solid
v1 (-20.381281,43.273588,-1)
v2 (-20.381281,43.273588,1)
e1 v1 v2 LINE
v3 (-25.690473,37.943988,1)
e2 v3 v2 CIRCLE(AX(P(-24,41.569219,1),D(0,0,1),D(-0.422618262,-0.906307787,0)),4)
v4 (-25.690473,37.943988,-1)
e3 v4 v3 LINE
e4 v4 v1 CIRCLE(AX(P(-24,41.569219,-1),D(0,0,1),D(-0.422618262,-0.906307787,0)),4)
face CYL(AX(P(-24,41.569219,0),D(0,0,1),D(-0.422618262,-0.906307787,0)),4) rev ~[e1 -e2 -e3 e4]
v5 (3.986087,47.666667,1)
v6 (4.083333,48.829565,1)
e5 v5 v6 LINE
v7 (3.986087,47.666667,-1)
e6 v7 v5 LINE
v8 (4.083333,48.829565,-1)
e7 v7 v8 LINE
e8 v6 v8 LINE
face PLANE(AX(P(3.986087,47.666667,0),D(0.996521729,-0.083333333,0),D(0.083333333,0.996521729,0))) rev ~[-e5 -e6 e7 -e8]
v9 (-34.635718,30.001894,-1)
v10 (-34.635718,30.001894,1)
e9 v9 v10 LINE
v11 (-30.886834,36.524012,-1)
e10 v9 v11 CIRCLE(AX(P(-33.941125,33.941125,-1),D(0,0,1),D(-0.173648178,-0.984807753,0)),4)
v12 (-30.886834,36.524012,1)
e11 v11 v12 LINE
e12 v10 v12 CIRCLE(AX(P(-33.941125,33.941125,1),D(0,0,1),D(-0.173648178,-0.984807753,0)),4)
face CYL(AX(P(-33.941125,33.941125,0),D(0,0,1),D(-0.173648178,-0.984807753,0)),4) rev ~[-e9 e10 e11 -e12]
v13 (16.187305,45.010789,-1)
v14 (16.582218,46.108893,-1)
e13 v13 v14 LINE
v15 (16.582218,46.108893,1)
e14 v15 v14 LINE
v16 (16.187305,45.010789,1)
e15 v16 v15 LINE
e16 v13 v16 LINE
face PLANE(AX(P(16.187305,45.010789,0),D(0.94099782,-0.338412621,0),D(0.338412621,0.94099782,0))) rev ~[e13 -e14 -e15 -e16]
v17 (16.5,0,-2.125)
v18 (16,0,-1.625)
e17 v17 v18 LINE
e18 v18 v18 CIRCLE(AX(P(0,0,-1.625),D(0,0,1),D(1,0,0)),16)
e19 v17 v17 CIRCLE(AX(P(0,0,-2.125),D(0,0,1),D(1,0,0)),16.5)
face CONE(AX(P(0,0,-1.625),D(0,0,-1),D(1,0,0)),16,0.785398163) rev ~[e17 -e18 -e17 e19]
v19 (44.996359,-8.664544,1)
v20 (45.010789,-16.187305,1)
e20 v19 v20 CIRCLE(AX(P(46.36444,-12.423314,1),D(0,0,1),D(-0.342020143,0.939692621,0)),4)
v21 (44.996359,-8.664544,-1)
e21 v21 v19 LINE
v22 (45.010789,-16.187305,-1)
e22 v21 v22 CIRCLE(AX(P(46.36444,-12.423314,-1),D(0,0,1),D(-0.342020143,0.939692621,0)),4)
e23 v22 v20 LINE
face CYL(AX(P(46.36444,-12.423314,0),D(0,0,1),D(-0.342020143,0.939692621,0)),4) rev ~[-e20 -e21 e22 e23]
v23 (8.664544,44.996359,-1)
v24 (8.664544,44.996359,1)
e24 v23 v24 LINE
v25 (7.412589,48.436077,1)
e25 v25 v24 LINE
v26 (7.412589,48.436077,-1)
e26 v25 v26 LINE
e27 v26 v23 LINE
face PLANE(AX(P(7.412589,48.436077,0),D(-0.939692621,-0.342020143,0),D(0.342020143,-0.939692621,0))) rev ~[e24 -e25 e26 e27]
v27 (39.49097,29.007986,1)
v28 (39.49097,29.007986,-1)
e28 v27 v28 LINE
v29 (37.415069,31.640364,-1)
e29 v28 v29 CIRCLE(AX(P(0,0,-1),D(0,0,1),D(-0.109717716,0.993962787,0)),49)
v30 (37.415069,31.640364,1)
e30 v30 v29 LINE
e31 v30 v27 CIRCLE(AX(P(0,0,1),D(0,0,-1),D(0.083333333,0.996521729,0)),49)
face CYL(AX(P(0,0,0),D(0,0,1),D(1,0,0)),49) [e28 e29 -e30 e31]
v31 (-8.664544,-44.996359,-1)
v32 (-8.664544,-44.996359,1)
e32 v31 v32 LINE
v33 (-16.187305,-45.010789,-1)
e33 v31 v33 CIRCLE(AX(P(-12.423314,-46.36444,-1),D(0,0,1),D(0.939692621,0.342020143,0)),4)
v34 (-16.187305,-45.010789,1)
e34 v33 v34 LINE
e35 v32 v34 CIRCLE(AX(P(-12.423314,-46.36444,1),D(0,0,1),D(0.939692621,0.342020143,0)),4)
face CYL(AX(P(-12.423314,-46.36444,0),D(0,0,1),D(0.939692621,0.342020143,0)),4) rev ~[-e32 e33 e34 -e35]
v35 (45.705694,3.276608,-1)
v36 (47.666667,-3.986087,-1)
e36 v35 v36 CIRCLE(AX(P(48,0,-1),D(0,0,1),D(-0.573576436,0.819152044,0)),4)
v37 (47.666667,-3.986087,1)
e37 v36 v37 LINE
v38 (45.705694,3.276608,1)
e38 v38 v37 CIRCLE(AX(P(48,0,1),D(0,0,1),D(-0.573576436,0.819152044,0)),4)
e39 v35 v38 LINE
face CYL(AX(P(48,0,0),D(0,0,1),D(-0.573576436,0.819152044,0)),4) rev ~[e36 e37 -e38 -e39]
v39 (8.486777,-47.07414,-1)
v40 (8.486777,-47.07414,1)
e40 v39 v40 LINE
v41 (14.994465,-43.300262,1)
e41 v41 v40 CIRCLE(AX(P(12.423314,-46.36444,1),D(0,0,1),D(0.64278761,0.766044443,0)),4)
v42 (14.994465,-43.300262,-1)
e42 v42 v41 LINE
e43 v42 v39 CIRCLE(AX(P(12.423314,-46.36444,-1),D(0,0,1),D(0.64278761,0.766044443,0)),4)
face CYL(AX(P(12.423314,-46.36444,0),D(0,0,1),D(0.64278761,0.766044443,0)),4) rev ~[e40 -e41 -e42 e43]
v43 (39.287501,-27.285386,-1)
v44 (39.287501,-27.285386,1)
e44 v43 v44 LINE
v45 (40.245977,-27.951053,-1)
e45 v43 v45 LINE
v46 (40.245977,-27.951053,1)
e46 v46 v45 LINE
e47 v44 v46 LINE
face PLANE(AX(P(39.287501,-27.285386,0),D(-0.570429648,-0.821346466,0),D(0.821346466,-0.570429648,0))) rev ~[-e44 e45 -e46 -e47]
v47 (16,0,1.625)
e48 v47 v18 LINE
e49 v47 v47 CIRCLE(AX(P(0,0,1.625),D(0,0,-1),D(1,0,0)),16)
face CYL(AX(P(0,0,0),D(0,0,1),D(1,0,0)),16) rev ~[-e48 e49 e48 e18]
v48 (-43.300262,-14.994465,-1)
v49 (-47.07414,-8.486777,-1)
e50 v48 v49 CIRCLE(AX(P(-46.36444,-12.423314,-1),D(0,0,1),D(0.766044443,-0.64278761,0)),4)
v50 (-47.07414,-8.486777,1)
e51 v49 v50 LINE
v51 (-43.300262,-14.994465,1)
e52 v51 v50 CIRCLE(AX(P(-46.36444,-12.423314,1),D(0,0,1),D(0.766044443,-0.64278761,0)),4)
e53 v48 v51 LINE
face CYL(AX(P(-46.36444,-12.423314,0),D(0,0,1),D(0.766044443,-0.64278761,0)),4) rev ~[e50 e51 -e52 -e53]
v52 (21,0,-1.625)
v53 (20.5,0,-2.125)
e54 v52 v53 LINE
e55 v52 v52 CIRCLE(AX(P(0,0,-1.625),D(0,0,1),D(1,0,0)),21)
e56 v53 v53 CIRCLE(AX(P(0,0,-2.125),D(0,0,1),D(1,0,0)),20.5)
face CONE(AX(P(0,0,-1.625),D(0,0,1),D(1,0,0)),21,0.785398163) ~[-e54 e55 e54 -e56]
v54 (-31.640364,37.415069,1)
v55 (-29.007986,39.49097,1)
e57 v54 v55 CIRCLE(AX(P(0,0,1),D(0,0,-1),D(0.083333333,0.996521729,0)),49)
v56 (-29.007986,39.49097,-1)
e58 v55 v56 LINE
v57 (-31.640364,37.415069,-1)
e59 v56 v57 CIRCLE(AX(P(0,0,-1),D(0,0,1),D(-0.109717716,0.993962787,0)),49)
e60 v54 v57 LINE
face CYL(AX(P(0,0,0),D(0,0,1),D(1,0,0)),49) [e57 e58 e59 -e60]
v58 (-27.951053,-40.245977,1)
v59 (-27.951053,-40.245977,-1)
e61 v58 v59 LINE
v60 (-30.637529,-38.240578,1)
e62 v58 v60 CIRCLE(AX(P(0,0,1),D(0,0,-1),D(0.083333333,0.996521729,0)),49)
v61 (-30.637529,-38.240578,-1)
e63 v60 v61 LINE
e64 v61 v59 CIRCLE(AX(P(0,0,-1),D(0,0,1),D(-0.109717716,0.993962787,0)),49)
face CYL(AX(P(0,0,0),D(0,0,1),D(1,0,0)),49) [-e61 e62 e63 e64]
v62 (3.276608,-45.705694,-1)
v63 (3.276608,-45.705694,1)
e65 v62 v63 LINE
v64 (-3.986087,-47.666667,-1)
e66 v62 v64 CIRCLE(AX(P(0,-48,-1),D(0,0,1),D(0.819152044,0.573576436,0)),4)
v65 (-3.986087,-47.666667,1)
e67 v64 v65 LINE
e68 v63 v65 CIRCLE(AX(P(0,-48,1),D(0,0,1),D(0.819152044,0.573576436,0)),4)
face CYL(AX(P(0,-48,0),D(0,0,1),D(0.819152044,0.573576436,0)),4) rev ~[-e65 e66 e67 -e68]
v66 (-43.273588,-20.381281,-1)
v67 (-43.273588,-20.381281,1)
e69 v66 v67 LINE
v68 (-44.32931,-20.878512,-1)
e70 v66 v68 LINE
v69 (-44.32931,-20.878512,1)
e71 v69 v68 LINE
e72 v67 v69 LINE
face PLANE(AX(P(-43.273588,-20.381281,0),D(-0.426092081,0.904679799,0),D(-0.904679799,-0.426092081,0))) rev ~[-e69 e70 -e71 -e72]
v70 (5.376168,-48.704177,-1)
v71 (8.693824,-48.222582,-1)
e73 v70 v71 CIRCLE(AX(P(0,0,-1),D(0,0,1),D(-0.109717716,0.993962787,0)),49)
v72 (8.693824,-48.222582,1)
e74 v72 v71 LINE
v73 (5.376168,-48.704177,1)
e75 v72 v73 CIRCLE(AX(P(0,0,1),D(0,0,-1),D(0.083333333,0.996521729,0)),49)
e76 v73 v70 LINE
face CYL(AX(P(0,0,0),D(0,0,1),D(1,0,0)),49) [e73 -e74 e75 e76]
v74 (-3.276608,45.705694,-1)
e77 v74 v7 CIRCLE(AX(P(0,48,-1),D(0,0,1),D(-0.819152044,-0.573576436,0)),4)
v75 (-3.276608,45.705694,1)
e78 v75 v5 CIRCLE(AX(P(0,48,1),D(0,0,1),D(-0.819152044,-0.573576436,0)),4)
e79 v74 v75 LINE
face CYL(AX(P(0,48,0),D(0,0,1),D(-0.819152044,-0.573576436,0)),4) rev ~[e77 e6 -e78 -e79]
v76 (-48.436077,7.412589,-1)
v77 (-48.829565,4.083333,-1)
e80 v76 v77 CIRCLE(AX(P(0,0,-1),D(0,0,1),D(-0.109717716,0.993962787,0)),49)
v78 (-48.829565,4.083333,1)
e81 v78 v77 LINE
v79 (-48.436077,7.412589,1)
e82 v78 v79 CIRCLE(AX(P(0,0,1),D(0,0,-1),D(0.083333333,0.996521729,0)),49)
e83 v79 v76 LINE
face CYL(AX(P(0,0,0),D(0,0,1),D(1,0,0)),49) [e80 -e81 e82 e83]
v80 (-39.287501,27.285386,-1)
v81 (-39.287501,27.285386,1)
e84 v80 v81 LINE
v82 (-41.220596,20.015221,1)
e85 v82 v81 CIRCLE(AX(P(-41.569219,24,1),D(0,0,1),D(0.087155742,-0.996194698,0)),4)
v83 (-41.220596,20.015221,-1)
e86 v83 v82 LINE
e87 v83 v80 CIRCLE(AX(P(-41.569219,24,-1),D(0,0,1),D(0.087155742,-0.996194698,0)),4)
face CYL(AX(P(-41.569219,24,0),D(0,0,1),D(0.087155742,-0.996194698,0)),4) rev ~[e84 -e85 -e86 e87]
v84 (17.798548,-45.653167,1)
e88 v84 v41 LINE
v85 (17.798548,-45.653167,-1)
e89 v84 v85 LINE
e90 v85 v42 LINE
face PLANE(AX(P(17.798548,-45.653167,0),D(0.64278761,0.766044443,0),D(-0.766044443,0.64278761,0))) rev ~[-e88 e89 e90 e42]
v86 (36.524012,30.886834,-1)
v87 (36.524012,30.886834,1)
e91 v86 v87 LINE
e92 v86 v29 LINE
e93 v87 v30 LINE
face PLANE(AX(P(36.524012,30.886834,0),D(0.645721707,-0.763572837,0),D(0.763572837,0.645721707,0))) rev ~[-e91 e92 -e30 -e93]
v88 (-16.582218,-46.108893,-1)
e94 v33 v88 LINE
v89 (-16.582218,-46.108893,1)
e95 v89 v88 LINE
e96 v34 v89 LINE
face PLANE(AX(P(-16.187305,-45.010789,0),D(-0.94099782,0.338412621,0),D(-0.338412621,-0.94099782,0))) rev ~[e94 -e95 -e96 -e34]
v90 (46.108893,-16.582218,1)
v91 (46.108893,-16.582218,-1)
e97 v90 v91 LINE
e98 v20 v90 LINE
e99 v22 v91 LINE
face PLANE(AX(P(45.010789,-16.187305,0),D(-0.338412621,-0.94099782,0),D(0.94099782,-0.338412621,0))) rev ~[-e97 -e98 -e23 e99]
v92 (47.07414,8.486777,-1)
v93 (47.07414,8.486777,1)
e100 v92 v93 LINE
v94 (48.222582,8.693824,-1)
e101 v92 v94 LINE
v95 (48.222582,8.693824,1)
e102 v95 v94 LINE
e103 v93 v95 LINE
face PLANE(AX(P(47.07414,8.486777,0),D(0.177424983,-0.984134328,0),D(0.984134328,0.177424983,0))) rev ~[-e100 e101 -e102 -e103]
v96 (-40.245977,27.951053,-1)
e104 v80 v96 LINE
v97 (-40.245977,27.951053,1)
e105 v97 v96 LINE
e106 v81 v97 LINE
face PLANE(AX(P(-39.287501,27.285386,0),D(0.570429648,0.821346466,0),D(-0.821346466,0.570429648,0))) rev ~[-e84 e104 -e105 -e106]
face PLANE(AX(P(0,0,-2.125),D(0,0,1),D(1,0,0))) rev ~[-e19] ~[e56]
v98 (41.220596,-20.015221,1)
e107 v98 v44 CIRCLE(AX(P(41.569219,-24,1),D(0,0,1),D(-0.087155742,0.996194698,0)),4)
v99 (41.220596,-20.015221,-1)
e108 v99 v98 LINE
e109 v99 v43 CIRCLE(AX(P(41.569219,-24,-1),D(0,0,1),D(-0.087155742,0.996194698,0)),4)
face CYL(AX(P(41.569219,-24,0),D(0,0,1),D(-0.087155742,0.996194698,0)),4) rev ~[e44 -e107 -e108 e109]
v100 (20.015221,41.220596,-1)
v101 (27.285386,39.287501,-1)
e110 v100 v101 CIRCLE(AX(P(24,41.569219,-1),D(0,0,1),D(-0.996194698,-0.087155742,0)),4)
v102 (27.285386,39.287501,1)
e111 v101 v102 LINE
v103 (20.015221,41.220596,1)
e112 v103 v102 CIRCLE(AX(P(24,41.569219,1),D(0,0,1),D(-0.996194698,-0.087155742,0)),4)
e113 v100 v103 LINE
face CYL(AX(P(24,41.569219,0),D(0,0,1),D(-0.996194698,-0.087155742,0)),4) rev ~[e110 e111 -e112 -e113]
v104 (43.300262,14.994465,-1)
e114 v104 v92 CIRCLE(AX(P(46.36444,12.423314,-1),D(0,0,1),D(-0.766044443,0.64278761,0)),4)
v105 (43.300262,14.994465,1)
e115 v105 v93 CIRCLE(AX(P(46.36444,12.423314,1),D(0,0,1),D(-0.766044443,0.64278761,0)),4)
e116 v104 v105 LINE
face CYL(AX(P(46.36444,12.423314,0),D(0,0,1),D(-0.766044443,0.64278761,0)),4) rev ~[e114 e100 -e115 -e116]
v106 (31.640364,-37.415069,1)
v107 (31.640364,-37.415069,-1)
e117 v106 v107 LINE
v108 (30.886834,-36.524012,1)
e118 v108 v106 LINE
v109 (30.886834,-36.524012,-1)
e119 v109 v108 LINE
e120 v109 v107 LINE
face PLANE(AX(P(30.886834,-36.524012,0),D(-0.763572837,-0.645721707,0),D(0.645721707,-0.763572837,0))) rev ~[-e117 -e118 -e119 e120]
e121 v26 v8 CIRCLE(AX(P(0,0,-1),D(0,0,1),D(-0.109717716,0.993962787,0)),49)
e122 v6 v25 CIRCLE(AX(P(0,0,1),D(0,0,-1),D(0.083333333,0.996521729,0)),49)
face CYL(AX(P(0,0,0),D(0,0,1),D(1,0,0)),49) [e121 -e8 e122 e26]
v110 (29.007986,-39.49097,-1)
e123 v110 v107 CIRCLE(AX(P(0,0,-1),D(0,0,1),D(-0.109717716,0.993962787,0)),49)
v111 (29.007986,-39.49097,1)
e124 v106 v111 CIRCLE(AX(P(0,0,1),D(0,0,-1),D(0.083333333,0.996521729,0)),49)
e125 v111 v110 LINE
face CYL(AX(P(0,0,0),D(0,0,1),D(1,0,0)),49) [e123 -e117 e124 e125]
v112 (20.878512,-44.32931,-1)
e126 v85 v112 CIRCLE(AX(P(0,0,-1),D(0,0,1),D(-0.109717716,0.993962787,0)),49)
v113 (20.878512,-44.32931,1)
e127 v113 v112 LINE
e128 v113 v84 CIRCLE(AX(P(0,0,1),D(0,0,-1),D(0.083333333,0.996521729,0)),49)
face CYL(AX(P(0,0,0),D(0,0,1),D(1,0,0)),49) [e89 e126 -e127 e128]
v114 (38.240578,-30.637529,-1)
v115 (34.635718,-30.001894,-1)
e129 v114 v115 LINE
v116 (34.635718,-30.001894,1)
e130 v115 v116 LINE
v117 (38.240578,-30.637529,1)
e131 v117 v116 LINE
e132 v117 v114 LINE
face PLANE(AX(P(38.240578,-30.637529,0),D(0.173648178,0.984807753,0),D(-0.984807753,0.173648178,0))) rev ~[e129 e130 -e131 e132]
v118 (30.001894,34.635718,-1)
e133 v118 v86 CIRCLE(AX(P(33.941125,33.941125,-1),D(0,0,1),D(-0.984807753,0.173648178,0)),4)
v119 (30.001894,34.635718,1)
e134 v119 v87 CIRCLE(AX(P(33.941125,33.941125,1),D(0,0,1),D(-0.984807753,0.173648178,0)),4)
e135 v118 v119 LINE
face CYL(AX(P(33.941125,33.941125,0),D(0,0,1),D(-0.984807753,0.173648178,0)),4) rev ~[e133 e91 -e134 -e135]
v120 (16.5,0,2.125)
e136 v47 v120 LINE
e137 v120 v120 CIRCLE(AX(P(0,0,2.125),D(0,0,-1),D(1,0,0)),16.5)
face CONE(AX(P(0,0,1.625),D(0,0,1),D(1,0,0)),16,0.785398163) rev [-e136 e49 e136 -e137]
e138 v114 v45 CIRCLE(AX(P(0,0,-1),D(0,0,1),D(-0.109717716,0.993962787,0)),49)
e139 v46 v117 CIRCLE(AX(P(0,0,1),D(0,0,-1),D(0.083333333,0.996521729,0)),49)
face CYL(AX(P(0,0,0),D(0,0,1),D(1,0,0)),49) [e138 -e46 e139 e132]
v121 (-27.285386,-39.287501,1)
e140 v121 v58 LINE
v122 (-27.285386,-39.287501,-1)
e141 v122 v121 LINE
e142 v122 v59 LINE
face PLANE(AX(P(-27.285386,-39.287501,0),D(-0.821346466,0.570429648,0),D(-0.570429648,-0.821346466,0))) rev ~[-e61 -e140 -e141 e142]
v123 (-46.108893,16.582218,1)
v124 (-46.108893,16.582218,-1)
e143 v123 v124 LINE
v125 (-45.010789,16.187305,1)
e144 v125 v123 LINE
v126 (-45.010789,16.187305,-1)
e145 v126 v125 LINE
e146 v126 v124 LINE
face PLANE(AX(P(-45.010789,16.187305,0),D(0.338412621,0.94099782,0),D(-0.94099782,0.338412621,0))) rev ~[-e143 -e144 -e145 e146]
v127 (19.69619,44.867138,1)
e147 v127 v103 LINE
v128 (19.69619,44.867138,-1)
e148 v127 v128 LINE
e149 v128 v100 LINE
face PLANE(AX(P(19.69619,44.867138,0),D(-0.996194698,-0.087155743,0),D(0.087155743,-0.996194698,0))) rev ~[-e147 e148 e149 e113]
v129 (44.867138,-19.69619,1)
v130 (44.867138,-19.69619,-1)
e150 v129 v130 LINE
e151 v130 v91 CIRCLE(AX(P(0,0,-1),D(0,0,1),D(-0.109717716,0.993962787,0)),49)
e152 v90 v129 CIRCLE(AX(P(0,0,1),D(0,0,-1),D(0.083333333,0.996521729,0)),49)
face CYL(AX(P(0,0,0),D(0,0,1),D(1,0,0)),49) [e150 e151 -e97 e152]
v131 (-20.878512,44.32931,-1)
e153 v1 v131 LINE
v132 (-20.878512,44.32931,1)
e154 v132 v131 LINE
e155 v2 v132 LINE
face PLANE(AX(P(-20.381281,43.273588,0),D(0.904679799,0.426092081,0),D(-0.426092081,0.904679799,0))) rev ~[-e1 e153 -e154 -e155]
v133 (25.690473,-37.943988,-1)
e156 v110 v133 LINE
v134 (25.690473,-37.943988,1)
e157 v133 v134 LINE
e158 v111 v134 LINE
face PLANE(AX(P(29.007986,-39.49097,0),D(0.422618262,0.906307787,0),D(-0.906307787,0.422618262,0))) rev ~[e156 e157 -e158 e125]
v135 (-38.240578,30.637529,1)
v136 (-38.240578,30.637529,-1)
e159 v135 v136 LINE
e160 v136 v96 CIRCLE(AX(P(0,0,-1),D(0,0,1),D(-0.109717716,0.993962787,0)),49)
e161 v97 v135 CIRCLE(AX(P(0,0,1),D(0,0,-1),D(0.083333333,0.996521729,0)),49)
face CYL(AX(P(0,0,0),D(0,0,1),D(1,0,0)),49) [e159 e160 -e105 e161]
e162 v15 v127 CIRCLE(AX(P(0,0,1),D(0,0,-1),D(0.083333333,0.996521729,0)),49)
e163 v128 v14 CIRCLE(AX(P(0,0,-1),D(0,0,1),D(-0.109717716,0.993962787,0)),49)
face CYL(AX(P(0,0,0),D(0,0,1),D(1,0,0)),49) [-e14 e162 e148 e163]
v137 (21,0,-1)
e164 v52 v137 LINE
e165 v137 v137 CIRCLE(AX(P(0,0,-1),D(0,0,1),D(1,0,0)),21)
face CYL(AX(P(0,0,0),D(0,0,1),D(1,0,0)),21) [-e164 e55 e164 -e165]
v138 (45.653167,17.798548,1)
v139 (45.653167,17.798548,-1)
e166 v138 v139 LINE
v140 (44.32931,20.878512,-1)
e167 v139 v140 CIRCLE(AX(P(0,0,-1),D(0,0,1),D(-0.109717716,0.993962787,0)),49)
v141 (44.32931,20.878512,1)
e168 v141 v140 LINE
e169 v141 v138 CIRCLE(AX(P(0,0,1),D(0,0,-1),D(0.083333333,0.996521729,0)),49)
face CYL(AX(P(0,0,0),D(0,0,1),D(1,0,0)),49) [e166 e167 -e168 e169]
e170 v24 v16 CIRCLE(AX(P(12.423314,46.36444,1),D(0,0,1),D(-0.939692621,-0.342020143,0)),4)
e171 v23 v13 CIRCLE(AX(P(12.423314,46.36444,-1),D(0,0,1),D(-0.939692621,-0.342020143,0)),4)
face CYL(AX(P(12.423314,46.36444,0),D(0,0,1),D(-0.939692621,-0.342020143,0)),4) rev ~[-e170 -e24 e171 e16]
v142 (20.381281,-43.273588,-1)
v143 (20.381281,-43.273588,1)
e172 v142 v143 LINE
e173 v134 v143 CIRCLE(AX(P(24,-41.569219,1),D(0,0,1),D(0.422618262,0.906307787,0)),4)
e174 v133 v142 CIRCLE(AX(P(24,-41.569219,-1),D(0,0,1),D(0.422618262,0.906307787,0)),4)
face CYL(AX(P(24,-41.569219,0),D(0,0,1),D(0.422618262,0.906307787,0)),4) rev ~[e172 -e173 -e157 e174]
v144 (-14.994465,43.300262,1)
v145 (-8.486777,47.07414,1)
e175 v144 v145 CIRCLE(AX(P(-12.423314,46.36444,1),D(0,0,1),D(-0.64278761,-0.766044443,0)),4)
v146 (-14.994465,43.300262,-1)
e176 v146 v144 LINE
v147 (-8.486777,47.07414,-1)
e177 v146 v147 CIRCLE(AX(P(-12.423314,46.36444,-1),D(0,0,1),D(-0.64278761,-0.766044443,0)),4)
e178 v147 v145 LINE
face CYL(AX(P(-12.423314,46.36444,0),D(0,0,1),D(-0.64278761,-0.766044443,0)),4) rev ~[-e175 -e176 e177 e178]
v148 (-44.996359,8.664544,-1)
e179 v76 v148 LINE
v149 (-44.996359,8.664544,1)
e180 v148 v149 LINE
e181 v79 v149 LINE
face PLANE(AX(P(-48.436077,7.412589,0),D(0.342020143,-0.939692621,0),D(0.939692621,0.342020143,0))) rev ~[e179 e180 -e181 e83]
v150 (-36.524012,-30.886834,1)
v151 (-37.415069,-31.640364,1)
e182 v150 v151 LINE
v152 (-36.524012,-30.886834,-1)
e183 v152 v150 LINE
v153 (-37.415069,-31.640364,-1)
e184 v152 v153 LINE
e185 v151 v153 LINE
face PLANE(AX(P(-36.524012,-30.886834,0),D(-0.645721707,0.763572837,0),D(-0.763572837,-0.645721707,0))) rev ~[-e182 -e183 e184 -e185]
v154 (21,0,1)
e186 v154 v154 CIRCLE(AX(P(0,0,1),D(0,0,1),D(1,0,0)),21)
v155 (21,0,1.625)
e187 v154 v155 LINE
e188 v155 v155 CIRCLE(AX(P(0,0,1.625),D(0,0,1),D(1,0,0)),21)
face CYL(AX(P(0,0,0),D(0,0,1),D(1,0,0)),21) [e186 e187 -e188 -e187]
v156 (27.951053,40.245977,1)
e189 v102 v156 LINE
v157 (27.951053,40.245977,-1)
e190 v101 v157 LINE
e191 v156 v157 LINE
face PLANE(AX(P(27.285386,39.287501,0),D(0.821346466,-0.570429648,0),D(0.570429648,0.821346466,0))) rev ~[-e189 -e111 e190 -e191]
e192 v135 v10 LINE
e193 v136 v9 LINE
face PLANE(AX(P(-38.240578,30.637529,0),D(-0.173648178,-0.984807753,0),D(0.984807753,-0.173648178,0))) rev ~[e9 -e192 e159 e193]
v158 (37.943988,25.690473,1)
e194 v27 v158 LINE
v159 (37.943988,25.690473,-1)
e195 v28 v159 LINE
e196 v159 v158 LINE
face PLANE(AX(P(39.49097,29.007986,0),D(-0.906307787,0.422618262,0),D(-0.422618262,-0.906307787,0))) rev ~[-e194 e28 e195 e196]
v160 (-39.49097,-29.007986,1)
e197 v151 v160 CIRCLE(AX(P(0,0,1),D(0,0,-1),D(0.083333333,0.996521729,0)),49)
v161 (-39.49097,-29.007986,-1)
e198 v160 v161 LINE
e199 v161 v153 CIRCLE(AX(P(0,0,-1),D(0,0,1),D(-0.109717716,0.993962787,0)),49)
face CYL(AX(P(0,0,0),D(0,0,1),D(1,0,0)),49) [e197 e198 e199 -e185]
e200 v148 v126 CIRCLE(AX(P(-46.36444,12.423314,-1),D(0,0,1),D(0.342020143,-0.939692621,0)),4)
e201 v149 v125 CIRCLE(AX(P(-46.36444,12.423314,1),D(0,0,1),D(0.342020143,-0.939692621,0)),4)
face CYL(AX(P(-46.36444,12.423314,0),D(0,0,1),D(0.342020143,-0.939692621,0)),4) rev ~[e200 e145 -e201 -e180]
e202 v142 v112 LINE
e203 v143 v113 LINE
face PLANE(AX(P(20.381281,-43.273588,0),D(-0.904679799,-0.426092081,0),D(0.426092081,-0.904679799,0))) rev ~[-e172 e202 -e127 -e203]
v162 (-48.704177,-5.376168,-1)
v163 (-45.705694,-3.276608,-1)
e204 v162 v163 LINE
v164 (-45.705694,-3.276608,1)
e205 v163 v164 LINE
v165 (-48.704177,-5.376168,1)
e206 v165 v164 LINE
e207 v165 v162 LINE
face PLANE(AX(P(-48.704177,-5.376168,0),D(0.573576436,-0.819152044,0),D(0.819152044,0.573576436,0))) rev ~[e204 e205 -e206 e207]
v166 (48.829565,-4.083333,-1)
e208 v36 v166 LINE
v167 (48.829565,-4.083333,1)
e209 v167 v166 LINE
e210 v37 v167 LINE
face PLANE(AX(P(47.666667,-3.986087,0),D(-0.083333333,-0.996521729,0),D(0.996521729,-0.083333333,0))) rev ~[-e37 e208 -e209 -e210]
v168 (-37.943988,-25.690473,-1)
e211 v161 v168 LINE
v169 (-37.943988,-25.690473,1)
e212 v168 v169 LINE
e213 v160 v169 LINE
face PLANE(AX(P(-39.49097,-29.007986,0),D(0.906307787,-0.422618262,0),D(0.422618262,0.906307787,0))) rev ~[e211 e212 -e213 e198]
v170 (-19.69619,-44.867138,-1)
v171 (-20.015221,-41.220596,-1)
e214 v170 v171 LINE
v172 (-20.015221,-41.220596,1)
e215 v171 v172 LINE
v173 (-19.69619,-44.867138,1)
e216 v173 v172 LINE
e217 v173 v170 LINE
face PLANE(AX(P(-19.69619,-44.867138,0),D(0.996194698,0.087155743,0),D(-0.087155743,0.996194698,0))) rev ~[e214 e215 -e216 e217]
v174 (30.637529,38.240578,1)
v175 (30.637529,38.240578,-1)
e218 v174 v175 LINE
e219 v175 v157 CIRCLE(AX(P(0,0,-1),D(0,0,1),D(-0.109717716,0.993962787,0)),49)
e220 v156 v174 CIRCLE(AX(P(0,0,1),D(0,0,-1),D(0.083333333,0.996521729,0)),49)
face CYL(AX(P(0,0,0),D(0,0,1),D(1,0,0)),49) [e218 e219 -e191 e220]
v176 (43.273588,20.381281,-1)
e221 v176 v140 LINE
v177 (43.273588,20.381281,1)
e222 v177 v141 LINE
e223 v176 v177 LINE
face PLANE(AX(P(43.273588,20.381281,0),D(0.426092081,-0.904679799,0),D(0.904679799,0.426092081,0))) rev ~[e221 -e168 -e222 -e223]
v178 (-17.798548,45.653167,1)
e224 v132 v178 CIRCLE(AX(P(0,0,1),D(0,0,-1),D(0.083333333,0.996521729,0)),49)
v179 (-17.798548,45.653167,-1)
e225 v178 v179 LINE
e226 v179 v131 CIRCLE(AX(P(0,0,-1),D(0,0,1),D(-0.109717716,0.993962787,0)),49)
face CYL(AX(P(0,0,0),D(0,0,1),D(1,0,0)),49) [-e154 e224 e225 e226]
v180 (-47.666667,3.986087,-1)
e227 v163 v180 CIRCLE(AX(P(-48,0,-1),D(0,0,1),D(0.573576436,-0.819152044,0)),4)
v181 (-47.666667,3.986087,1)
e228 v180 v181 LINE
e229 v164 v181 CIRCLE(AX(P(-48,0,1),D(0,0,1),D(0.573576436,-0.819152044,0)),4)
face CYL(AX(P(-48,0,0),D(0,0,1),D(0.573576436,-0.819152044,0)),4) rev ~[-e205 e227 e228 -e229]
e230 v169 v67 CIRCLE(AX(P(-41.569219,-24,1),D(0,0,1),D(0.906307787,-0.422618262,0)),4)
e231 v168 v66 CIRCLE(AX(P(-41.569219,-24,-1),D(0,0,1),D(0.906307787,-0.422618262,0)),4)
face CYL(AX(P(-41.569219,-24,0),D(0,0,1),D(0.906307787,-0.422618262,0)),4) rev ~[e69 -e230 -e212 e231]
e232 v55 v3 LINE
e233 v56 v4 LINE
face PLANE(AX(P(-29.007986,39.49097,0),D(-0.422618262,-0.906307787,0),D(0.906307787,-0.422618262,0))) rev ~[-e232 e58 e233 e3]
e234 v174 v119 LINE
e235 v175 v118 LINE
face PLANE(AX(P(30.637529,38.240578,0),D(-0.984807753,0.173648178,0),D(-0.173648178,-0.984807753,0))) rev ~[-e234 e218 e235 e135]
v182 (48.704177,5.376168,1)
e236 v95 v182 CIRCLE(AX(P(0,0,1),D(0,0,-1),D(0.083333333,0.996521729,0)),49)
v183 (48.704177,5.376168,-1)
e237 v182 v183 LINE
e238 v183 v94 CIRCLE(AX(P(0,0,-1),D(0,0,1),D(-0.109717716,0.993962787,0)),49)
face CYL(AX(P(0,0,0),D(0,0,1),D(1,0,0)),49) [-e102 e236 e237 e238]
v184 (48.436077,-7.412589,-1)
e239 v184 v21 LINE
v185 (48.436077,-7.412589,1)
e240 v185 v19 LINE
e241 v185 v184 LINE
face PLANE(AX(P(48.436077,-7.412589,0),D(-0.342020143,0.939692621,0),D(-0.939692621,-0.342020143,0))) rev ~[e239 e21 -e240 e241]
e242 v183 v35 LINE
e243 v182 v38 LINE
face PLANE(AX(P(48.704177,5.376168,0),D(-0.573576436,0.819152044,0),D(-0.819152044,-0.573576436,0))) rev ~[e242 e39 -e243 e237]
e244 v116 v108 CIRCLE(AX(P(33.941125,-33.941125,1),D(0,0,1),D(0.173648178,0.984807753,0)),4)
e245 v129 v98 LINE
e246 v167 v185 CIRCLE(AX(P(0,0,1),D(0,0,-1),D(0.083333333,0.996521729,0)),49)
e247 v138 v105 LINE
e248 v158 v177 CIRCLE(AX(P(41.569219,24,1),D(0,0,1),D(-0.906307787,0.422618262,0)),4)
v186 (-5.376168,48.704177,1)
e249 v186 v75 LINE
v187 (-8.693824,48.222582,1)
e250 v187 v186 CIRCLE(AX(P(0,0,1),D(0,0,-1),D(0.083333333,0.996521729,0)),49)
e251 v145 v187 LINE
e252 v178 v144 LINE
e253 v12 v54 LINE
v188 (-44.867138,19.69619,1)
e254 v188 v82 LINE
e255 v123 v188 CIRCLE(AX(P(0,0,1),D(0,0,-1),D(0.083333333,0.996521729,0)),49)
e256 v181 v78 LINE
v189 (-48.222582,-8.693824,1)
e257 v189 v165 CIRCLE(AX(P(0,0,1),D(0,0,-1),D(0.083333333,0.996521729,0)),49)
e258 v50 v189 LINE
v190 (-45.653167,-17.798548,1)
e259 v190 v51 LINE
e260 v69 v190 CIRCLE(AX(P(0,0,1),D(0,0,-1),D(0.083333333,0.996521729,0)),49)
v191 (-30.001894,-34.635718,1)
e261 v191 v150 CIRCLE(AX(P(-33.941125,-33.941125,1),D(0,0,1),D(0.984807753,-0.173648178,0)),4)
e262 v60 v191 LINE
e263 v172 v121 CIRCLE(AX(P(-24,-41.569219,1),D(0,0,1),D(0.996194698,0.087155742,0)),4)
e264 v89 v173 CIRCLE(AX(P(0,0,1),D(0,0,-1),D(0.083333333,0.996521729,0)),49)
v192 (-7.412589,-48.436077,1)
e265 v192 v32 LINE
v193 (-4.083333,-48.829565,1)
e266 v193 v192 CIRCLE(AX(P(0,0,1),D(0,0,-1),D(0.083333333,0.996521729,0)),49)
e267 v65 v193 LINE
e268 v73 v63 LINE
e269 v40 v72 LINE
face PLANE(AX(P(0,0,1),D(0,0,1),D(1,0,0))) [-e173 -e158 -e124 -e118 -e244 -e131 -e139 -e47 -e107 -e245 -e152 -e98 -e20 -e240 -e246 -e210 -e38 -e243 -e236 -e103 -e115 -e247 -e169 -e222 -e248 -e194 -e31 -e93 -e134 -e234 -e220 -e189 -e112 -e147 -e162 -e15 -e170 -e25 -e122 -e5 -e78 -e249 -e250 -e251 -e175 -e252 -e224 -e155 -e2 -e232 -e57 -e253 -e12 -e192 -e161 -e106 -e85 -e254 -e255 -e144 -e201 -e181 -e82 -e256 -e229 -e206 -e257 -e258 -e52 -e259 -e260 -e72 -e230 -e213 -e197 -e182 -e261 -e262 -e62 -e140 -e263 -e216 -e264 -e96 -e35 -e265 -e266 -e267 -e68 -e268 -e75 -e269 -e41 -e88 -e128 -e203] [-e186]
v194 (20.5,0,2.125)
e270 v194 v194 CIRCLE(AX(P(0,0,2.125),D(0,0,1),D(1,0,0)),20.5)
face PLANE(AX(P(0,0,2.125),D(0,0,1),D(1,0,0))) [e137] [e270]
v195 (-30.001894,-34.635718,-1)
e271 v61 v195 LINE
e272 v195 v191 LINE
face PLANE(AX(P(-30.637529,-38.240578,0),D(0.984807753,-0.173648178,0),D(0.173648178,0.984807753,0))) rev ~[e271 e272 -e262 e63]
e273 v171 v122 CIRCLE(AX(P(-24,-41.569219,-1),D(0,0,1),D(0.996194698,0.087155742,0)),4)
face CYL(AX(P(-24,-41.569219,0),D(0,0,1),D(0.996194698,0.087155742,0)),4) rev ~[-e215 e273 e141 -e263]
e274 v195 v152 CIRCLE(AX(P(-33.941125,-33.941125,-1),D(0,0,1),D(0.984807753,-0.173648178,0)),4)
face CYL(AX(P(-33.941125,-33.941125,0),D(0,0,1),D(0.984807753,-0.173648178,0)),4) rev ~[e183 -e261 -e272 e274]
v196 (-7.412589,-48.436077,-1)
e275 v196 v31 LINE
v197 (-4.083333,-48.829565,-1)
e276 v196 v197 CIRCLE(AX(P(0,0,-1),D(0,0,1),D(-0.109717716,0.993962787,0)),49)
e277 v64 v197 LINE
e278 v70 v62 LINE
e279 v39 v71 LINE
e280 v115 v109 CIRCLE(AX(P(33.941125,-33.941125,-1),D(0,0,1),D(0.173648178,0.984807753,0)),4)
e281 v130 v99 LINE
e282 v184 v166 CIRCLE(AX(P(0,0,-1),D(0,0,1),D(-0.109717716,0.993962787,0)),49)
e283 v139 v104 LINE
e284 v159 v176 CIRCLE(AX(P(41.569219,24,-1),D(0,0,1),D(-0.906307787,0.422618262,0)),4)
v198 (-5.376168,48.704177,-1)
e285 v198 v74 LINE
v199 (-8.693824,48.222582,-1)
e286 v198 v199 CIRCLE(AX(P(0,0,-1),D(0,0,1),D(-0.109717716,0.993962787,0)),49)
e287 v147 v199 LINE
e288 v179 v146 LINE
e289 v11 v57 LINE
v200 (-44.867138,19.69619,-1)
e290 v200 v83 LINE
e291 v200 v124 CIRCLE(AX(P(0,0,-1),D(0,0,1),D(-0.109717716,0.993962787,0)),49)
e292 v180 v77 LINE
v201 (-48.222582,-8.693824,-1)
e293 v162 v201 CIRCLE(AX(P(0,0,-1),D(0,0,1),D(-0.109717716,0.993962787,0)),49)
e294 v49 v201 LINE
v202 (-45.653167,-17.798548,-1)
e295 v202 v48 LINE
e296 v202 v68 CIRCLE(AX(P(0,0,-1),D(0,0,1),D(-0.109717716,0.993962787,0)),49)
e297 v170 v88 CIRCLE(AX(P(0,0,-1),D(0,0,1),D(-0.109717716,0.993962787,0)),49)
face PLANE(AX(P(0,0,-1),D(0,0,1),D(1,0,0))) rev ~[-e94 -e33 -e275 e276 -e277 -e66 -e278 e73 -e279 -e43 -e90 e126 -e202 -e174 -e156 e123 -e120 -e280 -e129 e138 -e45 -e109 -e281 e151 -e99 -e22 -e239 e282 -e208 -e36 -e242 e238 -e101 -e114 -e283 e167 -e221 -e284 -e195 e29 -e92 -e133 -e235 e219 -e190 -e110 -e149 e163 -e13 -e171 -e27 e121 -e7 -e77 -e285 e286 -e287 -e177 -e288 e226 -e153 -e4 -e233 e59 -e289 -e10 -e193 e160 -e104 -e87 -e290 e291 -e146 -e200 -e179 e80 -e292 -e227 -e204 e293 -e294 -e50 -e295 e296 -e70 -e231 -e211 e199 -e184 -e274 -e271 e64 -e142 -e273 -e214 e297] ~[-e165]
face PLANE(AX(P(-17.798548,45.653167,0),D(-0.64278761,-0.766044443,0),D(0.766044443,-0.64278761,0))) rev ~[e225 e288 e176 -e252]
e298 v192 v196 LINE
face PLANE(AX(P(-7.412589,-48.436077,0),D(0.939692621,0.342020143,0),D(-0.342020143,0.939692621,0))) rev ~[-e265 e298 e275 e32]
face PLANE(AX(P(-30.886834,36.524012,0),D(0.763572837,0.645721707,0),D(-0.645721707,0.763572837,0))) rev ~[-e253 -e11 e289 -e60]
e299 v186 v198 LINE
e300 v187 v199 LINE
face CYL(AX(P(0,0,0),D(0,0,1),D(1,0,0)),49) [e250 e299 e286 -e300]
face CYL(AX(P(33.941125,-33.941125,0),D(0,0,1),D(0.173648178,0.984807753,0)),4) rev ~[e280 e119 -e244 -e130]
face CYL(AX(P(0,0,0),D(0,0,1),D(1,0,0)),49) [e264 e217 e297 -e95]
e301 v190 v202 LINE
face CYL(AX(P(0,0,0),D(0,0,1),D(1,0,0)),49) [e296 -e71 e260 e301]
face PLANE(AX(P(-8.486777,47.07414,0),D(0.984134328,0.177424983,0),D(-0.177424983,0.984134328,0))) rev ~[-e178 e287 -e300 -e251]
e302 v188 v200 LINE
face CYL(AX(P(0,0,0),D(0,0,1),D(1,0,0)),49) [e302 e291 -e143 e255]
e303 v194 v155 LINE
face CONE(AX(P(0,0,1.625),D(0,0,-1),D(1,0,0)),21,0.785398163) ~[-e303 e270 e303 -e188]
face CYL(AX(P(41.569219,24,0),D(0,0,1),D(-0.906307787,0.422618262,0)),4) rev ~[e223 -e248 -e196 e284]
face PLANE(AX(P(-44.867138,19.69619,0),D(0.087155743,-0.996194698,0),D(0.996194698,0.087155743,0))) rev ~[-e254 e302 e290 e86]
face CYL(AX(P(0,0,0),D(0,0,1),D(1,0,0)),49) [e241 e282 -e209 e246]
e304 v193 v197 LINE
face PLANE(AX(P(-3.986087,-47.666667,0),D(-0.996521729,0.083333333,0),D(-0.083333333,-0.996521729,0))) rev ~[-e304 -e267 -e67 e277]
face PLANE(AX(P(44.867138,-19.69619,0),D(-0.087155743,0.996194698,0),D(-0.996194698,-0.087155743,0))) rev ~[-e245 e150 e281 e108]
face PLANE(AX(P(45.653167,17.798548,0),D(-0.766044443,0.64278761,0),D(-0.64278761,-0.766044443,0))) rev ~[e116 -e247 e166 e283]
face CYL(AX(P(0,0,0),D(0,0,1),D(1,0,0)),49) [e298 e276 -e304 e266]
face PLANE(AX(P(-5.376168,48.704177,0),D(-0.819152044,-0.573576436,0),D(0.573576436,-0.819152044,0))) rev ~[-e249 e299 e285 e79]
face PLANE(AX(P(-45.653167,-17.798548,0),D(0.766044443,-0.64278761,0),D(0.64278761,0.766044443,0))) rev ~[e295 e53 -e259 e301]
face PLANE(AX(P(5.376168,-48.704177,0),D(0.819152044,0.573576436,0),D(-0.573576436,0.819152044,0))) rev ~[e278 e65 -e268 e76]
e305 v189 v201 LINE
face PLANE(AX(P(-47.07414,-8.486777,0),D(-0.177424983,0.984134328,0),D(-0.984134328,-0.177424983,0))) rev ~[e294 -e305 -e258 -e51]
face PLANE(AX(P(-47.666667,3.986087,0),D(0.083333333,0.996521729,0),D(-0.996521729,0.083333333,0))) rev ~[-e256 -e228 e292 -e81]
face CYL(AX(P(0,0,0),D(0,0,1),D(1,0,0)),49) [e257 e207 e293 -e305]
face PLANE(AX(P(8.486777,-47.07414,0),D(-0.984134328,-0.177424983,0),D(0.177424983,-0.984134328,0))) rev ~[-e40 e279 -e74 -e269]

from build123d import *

# Parameters (mm, degrees)
ESQUISSE1_R                  = 49
EXTRUSION1_DEPTH             = 1
ENL_V_MAT_EXTRU_1_DEPTH      = 2
R_P_TITION_CIRCULAIRE1_COUNT = 24
ESQUISSE3_R                  = 21
EXTRUSION2_DEPTH             = 2.125
ESQUISSE4_R                  = 16
ENL_V_MAT_EXTRU_2_DEPTH      = 3.125
ENL_V_MAT_EXTRU_2_DEPTH_BACK = 3.125
CHANFREIN1_SIZE              = 0.5


with BuildPart() as part:
    # Esquisse1 → Extrusion1 (new body, symmetric)
    with BuildSketch(Plane.XY):
        Circle(ESQUISSE1_R)
    extrude(amount=EXTRUSION1_DEPTH, both=True)

    # Esquisse2 → Enlèv. mat.-Extru.1 (cut, symmetric)
    with BuildSketch(Plane.XY):
        with BuildLine():
            Line((-5.376168106, 48.704176582), (-3.276608177, 45.705694255))
            ThreePointArc((-3.276608177, 45.705694255), (1.042685581, 44.138289656), (3.986086914, 47.666666667))
            Line((3.986086914, 47.666666667), (4.083333333, 48.829564701))
            ThreePointArc((4.083333333, 48.829564701), (-0.649450523, 48.995695872), (-5.376168106, 48.704176582))
        make_face()
    enl_v_mat_extru_1 = extrude(amount=ENL_V_MAT_EXTRU_1_DEPTH, both=True, mode=Mode.SUBTRACT)

    # Répétition circulaire1: Enlèv. mat.-Extru.1 ×24 about axis
    r_p_tition_circulaire1_axis = Axis((0, 0, 0), (0, 0, 1))
    for i in range(1, R_P_TITION_CIRCULAIRE1_COUNT):
        add(enl_v_mat_extru_1.rotate(r_p_tition_circulaire1_axis, i * 360 / R_P_TITION_CIRCULAIRE1_COUNT), mode=Mode.SUBTRACT)

    # Esquisse3 → Extrusion2 (add, symmetric)
    with BuildSketch(Plane.XY):
        Circle(ESQUISSE3_R)
    extrude(amount=EXTRUSION2_DEPTH, both=True)

    # Esquisse4 → Enlèv. mat.-Extru.2 (cut, two sides)
    with BuildSketch(Plane.XY) as enl_v_mat_extru_2_sk:
        Circle(ESQUISSE4_R)
    extrude(amount=ENL_V_MAT_EXTRU_2_DEPTH, mode=Mode.SUBTRACT)
    extrude(enl_v_mat_extru_2_sk.sketch, amount=-ENL_V_MAT_EXTRU_2_DEPTH_BACK, mode=Mode.SUBTRACT)

    # Chanfrein1
    chanfrein1_edges = [part.edges().sort_by_distance(p)[0] for p in [
        (-21, 0, -2.125),
        (-21, 0, 2.125),
        (-16, 0, -2.125),
        (-16, 0, 2.125),
    ]]
    chamfer(chanfrein1_edges, length=CHANFREIN1_SIZE)


solid = part.part
